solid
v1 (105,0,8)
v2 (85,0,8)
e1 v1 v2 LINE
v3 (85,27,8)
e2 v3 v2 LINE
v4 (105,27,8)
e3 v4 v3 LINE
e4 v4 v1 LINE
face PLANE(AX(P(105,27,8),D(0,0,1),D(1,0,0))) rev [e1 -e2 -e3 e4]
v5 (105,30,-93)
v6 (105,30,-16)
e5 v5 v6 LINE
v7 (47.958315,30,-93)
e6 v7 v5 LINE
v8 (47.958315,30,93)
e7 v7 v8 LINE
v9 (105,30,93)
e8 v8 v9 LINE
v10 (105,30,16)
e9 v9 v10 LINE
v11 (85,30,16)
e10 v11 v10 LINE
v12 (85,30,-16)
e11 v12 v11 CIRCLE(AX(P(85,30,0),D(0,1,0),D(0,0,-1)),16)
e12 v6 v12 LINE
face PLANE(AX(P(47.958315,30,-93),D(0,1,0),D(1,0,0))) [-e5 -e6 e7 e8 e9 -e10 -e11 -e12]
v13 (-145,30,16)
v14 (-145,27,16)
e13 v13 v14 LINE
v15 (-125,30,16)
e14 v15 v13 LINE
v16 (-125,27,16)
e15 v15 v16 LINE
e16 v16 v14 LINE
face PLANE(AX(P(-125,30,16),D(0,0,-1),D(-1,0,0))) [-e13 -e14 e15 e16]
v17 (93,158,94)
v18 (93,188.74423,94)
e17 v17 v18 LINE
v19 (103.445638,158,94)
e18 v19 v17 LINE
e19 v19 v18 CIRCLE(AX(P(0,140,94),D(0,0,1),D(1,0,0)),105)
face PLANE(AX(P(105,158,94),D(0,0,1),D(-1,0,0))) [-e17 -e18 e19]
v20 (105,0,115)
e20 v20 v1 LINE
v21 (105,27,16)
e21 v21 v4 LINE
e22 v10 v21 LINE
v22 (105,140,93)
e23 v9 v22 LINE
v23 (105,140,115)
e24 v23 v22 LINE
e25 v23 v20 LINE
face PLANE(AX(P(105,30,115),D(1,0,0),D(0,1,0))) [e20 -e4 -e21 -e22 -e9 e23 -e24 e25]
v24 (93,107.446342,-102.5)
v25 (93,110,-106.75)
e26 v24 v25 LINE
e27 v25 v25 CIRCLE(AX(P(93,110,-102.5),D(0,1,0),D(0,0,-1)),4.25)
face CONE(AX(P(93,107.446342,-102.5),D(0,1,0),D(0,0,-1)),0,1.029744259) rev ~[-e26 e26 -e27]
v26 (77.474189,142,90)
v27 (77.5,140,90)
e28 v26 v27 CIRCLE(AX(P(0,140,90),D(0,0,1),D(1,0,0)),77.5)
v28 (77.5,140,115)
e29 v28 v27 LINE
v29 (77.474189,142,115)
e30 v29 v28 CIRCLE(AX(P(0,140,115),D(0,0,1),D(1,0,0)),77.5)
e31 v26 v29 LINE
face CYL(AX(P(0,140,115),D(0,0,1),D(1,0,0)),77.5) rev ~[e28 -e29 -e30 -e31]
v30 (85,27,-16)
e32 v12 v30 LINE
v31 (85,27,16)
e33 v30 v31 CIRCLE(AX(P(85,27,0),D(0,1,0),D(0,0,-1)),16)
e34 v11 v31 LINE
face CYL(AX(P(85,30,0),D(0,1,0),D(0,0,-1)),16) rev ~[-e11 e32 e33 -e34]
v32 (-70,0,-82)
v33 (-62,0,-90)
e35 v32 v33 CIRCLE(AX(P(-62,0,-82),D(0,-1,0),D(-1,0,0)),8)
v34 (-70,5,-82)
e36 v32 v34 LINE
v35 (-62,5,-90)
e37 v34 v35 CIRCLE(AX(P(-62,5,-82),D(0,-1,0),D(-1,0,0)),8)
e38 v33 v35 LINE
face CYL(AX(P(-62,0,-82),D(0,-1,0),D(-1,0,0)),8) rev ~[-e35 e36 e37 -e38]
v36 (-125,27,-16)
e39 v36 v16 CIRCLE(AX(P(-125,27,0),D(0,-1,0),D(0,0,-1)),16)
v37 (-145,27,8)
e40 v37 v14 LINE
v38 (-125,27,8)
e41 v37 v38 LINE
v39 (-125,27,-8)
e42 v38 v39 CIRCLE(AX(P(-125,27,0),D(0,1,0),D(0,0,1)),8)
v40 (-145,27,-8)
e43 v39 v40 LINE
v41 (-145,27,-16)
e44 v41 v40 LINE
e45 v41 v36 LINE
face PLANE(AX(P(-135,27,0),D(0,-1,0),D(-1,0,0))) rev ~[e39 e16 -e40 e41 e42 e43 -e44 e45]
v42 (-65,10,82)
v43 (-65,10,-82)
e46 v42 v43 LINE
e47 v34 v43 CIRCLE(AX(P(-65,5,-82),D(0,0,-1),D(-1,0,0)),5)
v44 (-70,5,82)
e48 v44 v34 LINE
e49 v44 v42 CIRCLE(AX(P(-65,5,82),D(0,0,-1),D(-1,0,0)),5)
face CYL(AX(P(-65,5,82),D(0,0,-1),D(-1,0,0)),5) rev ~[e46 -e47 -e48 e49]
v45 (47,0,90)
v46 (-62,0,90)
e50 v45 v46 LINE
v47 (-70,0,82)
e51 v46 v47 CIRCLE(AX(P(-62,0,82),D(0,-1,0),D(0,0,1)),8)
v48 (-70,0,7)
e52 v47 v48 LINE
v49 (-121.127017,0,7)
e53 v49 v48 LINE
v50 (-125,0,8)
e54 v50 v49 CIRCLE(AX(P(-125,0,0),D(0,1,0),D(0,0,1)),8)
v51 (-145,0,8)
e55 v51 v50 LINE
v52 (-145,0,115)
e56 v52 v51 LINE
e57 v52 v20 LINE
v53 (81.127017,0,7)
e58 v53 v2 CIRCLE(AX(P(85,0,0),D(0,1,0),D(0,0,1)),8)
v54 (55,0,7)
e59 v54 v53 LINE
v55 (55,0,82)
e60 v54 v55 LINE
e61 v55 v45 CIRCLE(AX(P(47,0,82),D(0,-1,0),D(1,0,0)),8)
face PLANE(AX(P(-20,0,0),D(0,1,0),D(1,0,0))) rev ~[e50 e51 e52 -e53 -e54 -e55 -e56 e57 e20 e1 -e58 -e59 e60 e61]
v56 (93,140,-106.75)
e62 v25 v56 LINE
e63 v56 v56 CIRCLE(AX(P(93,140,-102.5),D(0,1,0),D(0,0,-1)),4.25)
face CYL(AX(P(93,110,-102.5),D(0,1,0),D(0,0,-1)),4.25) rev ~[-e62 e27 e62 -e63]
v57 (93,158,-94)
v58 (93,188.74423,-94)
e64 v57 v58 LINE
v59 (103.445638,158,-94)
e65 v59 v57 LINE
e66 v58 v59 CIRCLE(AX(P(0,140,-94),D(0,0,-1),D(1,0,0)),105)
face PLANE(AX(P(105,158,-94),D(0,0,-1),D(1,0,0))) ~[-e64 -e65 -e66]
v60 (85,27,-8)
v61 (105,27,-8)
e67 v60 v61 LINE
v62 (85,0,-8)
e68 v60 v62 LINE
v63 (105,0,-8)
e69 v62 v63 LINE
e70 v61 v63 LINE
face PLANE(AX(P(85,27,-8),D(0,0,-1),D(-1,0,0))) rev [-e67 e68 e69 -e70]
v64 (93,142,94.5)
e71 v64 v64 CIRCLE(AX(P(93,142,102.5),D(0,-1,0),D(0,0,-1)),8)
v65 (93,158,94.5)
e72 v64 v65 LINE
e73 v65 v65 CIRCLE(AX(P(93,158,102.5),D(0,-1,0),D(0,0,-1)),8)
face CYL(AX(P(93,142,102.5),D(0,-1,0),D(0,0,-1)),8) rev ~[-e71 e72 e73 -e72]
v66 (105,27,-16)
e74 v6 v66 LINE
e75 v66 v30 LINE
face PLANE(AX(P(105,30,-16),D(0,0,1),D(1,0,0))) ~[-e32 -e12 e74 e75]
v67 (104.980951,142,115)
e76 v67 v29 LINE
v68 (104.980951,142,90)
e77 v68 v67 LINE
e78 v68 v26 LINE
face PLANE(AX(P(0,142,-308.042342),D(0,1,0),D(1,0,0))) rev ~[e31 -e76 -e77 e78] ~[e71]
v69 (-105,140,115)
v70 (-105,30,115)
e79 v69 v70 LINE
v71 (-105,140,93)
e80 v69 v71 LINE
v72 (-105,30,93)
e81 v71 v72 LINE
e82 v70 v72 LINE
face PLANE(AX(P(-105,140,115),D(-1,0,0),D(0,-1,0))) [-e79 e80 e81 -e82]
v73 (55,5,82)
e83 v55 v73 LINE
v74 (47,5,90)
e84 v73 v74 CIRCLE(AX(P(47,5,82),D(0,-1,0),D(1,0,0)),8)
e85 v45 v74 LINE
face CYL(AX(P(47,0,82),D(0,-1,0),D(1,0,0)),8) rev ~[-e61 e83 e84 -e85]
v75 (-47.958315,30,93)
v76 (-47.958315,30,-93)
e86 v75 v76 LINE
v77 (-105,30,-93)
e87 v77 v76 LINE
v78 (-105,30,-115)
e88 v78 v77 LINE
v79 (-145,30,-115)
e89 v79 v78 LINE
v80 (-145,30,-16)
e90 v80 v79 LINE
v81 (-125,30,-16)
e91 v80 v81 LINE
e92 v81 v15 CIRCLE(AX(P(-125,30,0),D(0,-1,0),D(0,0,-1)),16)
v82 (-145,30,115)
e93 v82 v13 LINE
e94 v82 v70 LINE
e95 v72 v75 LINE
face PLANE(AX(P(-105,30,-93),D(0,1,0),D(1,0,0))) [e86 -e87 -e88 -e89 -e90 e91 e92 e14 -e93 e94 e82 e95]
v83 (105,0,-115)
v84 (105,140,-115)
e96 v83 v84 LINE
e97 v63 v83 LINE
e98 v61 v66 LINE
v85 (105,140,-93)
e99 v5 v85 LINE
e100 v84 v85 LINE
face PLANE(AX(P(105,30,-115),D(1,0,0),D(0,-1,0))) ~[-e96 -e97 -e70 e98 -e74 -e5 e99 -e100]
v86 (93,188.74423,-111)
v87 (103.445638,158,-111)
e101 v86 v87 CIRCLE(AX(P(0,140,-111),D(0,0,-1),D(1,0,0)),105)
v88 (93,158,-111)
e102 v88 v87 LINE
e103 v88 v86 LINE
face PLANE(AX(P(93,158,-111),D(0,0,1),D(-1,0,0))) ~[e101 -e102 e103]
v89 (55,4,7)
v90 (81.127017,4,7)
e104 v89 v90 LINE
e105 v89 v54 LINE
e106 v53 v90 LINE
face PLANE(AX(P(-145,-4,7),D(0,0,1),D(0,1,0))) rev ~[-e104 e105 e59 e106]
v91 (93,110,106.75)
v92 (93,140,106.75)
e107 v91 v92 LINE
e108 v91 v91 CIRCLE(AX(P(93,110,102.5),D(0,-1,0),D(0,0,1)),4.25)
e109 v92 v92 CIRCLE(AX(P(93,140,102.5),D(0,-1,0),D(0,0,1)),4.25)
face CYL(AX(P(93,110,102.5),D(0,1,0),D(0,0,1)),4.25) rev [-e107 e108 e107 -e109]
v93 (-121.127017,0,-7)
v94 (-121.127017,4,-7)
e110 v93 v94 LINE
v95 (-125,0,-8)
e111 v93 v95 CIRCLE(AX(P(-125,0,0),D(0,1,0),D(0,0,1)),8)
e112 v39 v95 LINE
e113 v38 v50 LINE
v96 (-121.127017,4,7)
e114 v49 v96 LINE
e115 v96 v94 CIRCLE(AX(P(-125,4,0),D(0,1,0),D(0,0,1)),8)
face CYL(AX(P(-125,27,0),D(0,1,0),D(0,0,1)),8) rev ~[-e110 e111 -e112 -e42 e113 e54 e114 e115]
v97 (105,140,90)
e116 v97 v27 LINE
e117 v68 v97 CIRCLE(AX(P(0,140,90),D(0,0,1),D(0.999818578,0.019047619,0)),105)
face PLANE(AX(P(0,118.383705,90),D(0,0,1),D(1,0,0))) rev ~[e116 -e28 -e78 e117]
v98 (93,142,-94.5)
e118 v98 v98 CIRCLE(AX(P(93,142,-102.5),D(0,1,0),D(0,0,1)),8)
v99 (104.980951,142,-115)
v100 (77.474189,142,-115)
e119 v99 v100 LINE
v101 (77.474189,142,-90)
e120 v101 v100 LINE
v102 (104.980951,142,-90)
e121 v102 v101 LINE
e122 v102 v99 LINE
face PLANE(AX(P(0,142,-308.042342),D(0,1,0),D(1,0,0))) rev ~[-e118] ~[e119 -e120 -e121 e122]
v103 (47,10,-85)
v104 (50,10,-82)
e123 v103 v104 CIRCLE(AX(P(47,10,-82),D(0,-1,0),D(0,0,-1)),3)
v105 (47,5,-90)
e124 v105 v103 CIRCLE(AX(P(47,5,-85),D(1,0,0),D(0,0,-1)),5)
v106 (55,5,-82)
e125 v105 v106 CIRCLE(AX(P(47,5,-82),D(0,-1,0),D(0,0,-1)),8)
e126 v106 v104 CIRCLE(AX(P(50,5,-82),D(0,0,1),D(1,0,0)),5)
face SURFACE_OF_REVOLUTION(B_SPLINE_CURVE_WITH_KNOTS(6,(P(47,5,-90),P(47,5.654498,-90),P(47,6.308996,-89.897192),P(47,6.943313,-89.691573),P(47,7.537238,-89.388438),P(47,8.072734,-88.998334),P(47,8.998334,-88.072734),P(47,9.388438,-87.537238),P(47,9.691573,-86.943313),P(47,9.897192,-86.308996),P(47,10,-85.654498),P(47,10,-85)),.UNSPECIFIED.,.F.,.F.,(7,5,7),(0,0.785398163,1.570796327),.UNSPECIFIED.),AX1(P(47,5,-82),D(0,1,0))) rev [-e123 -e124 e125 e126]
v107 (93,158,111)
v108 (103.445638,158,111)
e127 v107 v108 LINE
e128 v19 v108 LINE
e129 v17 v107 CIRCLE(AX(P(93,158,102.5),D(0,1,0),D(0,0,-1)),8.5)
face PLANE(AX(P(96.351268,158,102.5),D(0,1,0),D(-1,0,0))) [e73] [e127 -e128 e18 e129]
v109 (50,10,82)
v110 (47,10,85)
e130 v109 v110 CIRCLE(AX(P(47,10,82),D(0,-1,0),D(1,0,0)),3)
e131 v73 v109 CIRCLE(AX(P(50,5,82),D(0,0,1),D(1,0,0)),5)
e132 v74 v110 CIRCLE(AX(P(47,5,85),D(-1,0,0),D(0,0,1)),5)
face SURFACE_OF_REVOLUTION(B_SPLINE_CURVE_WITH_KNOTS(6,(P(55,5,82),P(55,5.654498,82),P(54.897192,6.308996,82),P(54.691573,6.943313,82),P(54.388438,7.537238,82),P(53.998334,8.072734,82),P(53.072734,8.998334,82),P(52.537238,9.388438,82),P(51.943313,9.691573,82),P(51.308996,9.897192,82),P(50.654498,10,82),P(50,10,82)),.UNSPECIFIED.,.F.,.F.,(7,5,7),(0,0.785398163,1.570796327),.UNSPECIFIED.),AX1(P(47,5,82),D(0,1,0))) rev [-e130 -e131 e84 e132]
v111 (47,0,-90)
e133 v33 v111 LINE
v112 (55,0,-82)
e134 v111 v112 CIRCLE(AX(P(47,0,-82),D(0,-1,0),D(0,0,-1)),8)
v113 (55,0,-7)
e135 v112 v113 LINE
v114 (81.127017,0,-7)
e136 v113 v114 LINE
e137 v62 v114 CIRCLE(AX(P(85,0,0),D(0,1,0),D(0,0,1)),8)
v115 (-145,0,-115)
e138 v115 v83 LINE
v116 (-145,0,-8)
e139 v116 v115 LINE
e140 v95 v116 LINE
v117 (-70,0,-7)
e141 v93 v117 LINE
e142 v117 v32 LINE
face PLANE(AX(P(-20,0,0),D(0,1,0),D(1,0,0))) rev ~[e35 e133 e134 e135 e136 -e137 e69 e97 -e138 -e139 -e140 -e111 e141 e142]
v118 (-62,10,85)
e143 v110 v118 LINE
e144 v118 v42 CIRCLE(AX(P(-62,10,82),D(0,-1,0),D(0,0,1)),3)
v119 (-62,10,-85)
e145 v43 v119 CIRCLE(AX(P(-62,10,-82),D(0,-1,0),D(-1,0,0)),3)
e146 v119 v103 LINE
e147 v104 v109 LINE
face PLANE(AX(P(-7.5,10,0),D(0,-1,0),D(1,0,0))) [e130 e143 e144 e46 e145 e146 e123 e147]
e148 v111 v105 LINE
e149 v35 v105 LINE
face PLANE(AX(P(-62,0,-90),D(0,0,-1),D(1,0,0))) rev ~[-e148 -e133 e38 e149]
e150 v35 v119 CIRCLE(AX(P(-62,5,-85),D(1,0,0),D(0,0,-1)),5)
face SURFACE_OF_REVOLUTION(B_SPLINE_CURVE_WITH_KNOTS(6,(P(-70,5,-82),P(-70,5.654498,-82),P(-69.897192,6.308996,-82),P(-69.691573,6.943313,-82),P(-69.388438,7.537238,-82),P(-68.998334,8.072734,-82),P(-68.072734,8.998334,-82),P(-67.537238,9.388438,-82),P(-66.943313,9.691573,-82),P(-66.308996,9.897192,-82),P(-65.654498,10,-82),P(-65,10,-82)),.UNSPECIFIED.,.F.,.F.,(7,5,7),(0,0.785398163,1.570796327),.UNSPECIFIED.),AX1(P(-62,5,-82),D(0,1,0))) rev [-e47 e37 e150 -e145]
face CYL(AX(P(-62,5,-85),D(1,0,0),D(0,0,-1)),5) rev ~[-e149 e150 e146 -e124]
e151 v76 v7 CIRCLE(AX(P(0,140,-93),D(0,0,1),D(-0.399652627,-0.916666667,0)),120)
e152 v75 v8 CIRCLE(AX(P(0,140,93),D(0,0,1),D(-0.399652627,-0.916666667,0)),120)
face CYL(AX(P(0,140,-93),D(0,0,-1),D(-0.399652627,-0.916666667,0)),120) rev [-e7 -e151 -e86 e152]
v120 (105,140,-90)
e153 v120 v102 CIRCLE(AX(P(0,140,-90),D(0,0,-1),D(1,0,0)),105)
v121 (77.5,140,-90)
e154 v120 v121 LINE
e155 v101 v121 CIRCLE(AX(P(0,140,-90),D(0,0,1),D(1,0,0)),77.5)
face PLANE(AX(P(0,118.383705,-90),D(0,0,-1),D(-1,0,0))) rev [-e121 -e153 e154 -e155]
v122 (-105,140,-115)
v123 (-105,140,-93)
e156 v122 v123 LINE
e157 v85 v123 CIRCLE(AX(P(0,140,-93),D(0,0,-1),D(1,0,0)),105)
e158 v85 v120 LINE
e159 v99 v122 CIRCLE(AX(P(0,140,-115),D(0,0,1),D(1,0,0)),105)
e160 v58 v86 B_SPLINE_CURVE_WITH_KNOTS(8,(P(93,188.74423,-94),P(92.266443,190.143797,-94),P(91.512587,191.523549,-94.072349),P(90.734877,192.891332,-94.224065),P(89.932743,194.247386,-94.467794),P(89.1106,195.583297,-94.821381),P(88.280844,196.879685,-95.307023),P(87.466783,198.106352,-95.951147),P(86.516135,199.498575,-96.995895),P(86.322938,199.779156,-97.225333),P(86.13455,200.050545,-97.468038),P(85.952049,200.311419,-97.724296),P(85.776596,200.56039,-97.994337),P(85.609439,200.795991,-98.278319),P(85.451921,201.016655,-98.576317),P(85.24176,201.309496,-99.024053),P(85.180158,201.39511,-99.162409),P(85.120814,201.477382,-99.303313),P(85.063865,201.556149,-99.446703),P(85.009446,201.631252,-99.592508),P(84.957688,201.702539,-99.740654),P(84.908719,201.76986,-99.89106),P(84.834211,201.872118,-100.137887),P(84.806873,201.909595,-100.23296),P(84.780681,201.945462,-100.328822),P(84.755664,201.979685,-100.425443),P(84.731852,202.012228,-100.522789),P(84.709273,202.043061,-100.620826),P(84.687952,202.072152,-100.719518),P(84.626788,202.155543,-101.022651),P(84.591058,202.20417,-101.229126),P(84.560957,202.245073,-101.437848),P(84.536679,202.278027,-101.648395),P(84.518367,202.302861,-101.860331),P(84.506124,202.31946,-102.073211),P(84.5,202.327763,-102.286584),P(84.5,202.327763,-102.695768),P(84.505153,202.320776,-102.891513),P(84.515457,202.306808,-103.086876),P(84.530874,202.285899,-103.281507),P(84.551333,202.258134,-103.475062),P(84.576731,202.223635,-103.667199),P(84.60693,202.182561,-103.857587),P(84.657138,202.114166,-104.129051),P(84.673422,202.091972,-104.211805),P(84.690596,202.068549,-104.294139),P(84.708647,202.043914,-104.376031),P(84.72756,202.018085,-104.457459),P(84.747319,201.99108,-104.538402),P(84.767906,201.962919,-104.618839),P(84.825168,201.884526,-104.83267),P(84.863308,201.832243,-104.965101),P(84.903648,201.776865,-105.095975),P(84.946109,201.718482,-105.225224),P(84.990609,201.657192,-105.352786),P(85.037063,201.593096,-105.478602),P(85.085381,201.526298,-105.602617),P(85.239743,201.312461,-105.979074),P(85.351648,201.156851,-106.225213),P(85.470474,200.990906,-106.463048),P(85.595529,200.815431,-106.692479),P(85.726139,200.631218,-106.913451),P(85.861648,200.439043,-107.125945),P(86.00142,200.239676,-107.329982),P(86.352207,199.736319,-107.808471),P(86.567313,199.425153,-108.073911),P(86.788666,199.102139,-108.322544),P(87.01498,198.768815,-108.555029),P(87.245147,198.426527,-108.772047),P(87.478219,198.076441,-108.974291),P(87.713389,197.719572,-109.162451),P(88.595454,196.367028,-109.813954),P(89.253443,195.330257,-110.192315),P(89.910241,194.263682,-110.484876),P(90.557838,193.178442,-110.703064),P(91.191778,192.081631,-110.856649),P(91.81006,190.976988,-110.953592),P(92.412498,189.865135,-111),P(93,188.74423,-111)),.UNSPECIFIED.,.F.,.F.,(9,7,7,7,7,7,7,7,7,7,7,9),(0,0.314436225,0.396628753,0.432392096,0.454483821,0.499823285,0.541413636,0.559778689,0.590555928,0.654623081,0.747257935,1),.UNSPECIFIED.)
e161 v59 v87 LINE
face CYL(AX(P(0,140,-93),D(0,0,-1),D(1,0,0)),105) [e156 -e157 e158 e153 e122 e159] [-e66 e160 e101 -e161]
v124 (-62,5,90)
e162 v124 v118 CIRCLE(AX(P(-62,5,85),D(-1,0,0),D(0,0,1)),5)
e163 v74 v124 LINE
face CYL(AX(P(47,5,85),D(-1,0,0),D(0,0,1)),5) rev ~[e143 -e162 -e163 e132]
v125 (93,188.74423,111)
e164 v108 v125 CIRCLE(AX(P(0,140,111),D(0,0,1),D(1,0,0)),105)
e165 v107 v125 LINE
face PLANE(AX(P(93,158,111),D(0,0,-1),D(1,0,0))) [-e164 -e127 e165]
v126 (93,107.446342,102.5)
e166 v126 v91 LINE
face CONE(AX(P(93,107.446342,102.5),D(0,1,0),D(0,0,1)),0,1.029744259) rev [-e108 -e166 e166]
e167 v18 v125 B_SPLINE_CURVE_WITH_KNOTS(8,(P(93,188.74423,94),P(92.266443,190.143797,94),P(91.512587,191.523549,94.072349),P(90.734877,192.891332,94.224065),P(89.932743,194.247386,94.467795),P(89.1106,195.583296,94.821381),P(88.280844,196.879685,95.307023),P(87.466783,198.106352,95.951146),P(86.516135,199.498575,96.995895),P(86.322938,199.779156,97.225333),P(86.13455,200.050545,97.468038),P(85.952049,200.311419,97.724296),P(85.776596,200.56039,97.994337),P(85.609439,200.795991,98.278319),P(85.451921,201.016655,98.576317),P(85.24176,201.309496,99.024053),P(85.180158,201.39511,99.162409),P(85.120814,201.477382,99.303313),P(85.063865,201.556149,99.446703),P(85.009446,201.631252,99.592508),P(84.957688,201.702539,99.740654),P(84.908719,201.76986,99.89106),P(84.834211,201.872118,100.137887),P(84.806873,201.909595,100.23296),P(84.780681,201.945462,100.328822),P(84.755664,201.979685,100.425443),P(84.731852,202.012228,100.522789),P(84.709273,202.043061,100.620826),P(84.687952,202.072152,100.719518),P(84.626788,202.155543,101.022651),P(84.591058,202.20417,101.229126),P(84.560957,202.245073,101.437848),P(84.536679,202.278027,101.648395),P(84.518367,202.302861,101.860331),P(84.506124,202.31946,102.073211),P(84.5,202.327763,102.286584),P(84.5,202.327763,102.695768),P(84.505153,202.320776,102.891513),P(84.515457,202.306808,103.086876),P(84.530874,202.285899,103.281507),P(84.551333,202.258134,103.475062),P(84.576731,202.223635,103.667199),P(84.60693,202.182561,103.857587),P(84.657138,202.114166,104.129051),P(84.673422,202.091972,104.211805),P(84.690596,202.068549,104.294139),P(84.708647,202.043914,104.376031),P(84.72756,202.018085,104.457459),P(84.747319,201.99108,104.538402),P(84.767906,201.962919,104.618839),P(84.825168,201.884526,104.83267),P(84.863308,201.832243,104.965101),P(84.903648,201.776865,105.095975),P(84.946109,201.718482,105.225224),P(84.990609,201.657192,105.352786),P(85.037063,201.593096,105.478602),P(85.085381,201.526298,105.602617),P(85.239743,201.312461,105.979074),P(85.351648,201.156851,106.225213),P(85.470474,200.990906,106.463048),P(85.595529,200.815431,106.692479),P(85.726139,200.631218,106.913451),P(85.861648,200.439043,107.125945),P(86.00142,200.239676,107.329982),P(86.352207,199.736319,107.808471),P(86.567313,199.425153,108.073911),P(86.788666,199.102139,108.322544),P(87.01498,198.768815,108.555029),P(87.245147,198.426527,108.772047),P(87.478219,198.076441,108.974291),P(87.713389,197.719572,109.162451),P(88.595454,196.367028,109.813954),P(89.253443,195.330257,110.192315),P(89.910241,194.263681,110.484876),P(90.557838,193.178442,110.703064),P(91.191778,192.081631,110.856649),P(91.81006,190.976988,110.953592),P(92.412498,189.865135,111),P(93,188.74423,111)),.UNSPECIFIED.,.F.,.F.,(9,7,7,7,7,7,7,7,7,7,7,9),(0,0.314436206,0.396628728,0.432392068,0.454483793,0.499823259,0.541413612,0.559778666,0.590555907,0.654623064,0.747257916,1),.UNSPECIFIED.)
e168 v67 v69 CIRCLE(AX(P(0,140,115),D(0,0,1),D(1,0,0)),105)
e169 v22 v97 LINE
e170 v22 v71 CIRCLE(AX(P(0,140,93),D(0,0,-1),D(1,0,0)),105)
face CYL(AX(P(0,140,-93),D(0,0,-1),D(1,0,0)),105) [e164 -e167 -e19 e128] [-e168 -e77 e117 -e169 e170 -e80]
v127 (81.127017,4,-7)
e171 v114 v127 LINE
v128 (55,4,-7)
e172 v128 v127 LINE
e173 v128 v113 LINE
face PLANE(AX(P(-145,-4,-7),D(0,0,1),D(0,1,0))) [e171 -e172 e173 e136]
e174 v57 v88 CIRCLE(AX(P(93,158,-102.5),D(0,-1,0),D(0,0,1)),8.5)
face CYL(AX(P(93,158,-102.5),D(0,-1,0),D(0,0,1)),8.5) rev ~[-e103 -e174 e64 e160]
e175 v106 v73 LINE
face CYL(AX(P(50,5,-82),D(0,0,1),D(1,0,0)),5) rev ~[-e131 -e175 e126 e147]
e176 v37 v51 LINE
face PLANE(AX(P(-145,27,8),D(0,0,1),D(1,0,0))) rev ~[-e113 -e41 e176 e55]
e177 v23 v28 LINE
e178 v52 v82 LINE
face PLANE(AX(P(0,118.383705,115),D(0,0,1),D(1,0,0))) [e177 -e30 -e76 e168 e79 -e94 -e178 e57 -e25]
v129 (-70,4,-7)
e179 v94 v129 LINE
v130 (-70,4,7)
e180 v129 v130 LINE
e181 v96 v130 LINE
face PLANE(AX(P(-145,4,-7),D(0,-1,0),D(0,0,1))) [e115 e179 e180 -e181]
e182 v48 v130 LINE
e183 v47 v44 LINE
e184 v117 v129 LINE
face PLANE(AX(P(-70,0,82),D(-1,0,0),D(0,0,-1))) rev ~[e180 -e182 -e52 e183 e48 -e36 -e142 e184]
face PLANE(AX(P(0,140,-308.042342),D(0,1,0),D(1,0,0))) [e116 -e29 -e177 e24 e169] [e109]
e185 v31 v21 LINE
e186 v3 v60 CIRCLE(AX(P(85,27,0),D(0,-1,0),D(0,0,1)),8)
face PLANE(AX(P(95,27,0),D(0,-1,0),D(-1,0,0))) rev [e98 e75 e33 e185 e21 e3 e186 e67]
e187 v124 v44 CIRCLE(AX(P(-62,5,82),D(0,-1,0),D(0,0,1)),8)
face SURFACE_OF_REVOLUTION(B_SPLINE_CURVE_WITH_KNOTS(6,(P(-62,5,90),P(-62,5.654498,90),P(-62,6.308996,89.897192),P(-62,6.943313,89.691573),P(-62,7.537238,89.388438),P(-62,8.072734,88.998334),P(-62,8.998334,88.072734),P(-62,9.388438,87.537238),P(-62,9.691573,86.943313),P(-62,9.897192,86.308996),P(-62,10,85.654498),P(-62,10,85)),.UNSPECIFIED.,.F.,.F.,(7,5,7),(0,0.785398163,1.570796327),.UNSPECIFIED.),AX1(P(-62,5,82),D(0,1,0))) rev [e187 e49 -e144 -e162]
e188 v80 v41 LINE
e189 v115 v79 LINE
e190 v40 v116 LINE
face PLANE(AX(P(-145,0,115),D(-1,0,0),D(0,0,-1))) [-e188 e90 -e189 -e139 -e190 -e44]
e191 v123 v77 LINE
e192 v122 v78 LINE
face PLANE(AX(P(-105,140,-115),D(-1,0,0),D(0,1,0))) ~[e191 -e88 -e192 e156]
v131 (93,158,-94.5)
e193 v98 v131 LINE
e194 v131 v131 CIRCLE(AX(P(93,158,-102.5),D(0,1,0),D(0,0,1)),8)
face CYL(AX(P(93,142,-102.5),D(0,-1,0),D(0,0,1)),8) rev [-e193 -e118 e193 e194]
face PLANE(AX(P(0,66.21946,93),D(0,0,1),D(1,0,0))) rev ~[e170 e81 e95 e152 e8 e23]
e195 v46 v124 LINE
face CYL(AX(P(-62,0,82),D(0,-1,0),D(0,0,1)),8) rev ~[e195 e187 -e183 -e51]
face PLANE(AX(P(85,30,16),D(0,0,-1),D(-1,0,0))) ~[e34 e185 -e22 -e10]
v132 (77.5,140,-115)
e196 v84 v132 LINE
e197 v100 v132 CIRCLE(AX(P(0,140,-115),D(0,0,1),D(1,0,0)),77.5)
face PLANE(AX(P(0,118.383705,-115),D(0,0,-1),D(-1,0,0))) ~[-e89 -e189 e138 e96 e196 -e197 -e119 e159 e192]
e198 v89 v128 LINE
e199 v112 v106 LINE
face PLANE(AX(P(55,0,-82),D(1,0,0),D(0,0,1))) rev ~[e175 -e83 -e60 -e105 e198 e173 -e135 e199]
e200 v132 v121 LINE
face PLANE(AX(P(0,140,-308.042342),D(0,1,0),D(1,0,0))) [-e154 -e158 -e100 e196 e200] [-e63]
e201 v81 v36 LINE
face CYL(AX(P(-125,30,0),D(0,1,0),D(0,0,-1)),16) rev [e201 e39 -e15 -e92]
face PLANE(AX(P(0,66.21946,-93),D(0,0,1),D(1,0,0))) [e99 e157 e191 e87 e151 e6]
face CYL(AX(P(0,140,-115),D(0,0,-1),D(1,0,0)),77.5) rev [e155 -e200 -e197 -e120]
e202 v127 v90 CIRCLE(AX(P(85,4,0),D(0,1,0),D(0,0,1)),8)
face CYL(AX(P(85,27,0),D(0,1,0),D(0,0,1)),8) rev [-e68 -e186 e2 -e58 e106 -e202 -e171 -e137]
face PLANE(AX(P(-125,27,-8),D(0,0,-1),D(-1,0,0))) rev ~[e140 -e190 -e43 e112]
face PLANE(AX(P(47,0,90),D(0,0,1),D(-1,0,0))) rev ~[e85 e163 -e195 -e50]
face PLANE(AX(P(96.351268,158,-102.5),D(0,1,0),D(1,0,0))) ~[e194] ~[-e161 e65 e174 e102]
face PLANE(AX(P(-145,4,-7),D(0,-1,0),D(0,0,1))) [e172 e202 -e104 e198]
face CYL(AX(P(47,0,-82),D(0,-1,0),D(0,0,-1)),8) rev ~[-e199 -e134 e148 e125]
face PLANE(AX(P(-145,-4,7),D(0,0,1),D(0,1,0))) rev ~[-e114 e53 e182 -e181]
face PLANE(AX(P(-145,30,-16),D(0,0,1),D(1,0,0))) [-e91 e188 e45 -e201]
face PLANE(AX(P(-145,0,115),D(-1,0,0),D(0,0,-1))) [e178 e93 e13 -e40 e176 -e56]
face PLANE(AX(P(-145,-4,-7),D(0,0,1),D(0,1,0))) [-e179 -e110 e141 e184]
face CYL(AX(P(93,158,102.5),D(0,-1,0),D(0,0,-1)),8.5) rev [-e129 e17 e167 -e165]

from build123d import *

# Parameters (mm, degrees)
SKETCH_2_W                 = 250
SKETCH_2_H                 = 230
EXTRUDE_1_DEPTH            = 30
CUT_EXTRUDE_1_DEPTH        = 3
CUT_EXTRUDE_2_DEPTH        = 188.026736057
CUT_EXTRUDE_3_DEPTH        = 10
FILLET_1_R                 = 5
SKETCH_6_W                 = 14
SKETCH_6_H                 = 8
CUT_EXTRUDE_4_DEPTH        = 277.812210713
SKETCH_7_R                 = 77.5
EXTRUDE_2_DEPTH            = 25
CUT_EXTRUDE_1_2_DEPTH      = 308.042342357
CUT_EXTRUDE_1_2_DEPTH_BACK = 308.042342357
SKETCH_8_W                 = 153.899728908
SKETCH_8_H                 = 2
SKETCH_9_R                 = 8
CUT_EXTRUDE_5_DEPTH        = 16
CUT_EXTRUDE_6_DEPTH        = 244.339269334
CUT_EXTRUDE_START          = -3
CUT_EXTRUDE_7_DEPTH        = 186


with BuildPart() as part:
    # 草图2 → 凸台-拉伸1 (new body)
    with BuildSketch(Plane(origin=(0, 0, 0), x_dir=(1, 0, 0), z_dir=(0, 1, 0))):
        with Locations((-20, 0)):
            Rectangle(SKETCH_2_W, SKETCH_2_H)
    extrude(amount=EXTRUDE_1_DEPTH)

    # 草图3 → Cut-Extrude 1 (cut)
    with BuildSketch(Plane(origin=(0, 30, 0), x_dir=(1, 0, 0), z_dir=(0, 1, 0))):
        with BuildLine():
            Line((-145, 16), (-125, 16))
            ThreePointArc((-125, 16), (-109, 0), (-125, -16))
            Line((-125, -16), (-145, -16))
            ThreePointArc((-145, -16), (-161, 0), (-145, 16))
        make_face()
    cut_extrude_1 = extrude(amount=-CUT_EXTRUDE_1_DEPTH, mode=Mode.SUBTRACT)

    # 草图4 → 切除-拉伸2 (cut, through all)
    with BuildSketch(Plane(origin=(0, 27, 0), x_dir=(1, 0, 0), z_dir=(0, 1, 0))):
        with BuildLine():
            Line((-145, 8), (-145, -8))
            Line((-145, -8), (-125, -8))
            ThreePointArc((-125, -8), (-117, 0), (-125, 8))
            Line((-125, 8), (-145, 8))
        make_face()
    cut_extrude_2 = extrude(amount=-CUT_EXTRUDE_2_DEPTH, mode=Mode.SUBTRACT)

    # 镜向1: Cut-Extrude 1, 切除-拉伸2 across plane
    add(cut_extrude_1.mirror(Plane.ZY.offset(20)), mode=Mode.SUBTRACT)
    add(cut_extrude_2.mirror(Plane.ZY.offset(20)), mode=Mode.SUBTRACT)

    # 草图5 → 切除-拉伸3 (cut)
    with BuildSketch(Plane.XZ):
        with BuildLine():
            Line((-62, -90), (47, -90))
            ThreePointArc((47, -90), (52.656854249, -87.656854249), (55, -82))
            Line((55, -82), (55, 82))
            ThreePointArc((55, 82), (52.656854249, 87.656854249), (47, 90))
            Line((47, 90), (-62, 90))
            ThreePointArc((-62, 90), (-67.656854249, 87.656854249), (-70, 82))
            Line((-70, 82), (-70, -82))
            ThreePointArc((-70, -82), (-67.656854249, -87.656854249), (-62, -90))
        make_face()
    extrude(amount=-CUT_EXTRUDE_3_DEPTH, mode=Mode.SUBTRACT)

    # 圆角1
    fillet_1_edges = [part.edges().sort_by_distance(p)[0] for p in [
        (52.656854249, 10, -87.656854249),
        (-7.5, 10, -90),
        (-67.656854249, 10, -87.656854249),
        (-70, 10, 0),
        (-67.656854249, 10, 87.656854249),
        (-7.5, 10, 90),
        (52.656854249, 10, 87.656854249),
        (55, 10, 0),
    ]]
    fillet(fillet_1_edges, radius=FILLET_1_R)

    # 草图6 → 切除-拉伸4 (cut, through all)
    with BuildSketch(Plane.ZY.offset(145)):
        Rectangle(SKETCH_6_W, SKETCH_6_H)
    extrude(amount=-CUT_EXTRUDE_4_DEPTH, mode=Mode.SUBTRACT)

    # 草图7 → 凸台-拉伸2 (add)
    with BuildSketch(Plane.XY.offset(115)):
        with BuildLine():
            Line((105, 30), (105, 140))
            ThreePointArc((105, 140), (0, 245), (-105, 140))
            Line((-105, 140), (-105, 30))
            Line((-105, 30), (105, 30))
        make_face()
        with Locations((0, 140)):
            Circle(SKETCH_7_R, mode=Mode.SUBTRACT)
    extrude_2 = extrude(amount=-EXTRUDE_2_DEPTH)

    # 镜向2: 凸台-拉伸2 across plane
    add(extrude_2.mirror(Plane.XY))

    # 草图8 → Cut-Extrude 1 2 (cut, two sides: drawn at the far end of the back side and taken through both)
    with BuildSketch(Plane.XY.offset(-CUT_EXTRUDE_1_2_DEPTH_BACK)):
        with Locations((76.949864454, 141)):
            Rectangle(SKETCH_8_W, SKETCH_8_H)
    extrude(amount=CUT_EXTRUDE_1_2_DEPTH + CUT_EXTRUDE_1_2_DEPTH_BACK, mode=Mode.SUBTRACT)

    # 草图9 → 切除-拉伸5 (cut)
    with BuildSketch(Plane.XZ.offset(-142)):
        with Locations(Location((93, 102.5, 0), (0, 0, 270))):
            Circle(SKETCH_9_R)
    cut_extrude_5 = extrude(amount=-CUT_EXTRUDE_5_DEPTH, mode=Mode.SUBTRACT)

    # 草图10 → 切除-拉伸6 (cut, through all)
    with BuildSketch(Plane.XZ.offset(-158)):
        with BuildLine():
            Line((93, 111), (105, 111))
            Line((105, 111), (105, 94))
            Line((105, 94), (93, 94))
            ThreePointArc((93, 94), (84.5, 102.5), (93, 111))
        make_face()
    cut_extrude_6 = extrude(amount=-CUT_EXTRUDE_6_DEPTH, mode=Mode.SUBTRACT)

    # 草图12 → M10 螺纹孔1 (revolve, cut)
    with BuildSketch(Plane(origin=(93, 140, 102.5), x_dir=(0, 0, 1), z_dir=(1, 0, 0))):
        Polygon((0, 0), (0, 32.553657631), (4.25, 30), (4.25, 0), align=None)
    hole_wizard_m10_1 = revolve(axis=Axis((93, 146.35, 102.5), (0, -1, 0)), mode=Mode.SUBTRACT)

    # 镜向3: 切除-拉伸5, 切除-拉伸6, M10 螺纹孔1 across plane
    add(cut_extrude_5.mirror(Plane.XY), mode=Mode.SUBTRACT)
    add(cut_extrude_6.mirror(Plane.XY), mode=Mode.SUBTRACT)
    add(hole_wizard_m10_1.mirror(Plane.XY), mode=Mode.SUBTRACT)

    # 草图13 → 切除-拉伸7 (cut)
    with BuildSketch(Plane.XY.offset(-90).offset(CUT_EXTRUDE_START)):
        with BuildLine():
            Line((47.958315233, 30), (105, 30))
            Line((105, 30), (105, 140))
            ThreePointArc((105, 140), (0, 35), (-105, 140))
            Line((-105, 140), (-105, 30))
            Line((-105, 30), (-47.958315233, 30))
            ThreePointArc((-47.958315233, 30), (0, 20), (47.958315233, 30))
        make_face()
    extrude(amount=CUT_EXTRUDE_7_DEPTH, mode=Mode.SUBTRACT)


solid = part.part
